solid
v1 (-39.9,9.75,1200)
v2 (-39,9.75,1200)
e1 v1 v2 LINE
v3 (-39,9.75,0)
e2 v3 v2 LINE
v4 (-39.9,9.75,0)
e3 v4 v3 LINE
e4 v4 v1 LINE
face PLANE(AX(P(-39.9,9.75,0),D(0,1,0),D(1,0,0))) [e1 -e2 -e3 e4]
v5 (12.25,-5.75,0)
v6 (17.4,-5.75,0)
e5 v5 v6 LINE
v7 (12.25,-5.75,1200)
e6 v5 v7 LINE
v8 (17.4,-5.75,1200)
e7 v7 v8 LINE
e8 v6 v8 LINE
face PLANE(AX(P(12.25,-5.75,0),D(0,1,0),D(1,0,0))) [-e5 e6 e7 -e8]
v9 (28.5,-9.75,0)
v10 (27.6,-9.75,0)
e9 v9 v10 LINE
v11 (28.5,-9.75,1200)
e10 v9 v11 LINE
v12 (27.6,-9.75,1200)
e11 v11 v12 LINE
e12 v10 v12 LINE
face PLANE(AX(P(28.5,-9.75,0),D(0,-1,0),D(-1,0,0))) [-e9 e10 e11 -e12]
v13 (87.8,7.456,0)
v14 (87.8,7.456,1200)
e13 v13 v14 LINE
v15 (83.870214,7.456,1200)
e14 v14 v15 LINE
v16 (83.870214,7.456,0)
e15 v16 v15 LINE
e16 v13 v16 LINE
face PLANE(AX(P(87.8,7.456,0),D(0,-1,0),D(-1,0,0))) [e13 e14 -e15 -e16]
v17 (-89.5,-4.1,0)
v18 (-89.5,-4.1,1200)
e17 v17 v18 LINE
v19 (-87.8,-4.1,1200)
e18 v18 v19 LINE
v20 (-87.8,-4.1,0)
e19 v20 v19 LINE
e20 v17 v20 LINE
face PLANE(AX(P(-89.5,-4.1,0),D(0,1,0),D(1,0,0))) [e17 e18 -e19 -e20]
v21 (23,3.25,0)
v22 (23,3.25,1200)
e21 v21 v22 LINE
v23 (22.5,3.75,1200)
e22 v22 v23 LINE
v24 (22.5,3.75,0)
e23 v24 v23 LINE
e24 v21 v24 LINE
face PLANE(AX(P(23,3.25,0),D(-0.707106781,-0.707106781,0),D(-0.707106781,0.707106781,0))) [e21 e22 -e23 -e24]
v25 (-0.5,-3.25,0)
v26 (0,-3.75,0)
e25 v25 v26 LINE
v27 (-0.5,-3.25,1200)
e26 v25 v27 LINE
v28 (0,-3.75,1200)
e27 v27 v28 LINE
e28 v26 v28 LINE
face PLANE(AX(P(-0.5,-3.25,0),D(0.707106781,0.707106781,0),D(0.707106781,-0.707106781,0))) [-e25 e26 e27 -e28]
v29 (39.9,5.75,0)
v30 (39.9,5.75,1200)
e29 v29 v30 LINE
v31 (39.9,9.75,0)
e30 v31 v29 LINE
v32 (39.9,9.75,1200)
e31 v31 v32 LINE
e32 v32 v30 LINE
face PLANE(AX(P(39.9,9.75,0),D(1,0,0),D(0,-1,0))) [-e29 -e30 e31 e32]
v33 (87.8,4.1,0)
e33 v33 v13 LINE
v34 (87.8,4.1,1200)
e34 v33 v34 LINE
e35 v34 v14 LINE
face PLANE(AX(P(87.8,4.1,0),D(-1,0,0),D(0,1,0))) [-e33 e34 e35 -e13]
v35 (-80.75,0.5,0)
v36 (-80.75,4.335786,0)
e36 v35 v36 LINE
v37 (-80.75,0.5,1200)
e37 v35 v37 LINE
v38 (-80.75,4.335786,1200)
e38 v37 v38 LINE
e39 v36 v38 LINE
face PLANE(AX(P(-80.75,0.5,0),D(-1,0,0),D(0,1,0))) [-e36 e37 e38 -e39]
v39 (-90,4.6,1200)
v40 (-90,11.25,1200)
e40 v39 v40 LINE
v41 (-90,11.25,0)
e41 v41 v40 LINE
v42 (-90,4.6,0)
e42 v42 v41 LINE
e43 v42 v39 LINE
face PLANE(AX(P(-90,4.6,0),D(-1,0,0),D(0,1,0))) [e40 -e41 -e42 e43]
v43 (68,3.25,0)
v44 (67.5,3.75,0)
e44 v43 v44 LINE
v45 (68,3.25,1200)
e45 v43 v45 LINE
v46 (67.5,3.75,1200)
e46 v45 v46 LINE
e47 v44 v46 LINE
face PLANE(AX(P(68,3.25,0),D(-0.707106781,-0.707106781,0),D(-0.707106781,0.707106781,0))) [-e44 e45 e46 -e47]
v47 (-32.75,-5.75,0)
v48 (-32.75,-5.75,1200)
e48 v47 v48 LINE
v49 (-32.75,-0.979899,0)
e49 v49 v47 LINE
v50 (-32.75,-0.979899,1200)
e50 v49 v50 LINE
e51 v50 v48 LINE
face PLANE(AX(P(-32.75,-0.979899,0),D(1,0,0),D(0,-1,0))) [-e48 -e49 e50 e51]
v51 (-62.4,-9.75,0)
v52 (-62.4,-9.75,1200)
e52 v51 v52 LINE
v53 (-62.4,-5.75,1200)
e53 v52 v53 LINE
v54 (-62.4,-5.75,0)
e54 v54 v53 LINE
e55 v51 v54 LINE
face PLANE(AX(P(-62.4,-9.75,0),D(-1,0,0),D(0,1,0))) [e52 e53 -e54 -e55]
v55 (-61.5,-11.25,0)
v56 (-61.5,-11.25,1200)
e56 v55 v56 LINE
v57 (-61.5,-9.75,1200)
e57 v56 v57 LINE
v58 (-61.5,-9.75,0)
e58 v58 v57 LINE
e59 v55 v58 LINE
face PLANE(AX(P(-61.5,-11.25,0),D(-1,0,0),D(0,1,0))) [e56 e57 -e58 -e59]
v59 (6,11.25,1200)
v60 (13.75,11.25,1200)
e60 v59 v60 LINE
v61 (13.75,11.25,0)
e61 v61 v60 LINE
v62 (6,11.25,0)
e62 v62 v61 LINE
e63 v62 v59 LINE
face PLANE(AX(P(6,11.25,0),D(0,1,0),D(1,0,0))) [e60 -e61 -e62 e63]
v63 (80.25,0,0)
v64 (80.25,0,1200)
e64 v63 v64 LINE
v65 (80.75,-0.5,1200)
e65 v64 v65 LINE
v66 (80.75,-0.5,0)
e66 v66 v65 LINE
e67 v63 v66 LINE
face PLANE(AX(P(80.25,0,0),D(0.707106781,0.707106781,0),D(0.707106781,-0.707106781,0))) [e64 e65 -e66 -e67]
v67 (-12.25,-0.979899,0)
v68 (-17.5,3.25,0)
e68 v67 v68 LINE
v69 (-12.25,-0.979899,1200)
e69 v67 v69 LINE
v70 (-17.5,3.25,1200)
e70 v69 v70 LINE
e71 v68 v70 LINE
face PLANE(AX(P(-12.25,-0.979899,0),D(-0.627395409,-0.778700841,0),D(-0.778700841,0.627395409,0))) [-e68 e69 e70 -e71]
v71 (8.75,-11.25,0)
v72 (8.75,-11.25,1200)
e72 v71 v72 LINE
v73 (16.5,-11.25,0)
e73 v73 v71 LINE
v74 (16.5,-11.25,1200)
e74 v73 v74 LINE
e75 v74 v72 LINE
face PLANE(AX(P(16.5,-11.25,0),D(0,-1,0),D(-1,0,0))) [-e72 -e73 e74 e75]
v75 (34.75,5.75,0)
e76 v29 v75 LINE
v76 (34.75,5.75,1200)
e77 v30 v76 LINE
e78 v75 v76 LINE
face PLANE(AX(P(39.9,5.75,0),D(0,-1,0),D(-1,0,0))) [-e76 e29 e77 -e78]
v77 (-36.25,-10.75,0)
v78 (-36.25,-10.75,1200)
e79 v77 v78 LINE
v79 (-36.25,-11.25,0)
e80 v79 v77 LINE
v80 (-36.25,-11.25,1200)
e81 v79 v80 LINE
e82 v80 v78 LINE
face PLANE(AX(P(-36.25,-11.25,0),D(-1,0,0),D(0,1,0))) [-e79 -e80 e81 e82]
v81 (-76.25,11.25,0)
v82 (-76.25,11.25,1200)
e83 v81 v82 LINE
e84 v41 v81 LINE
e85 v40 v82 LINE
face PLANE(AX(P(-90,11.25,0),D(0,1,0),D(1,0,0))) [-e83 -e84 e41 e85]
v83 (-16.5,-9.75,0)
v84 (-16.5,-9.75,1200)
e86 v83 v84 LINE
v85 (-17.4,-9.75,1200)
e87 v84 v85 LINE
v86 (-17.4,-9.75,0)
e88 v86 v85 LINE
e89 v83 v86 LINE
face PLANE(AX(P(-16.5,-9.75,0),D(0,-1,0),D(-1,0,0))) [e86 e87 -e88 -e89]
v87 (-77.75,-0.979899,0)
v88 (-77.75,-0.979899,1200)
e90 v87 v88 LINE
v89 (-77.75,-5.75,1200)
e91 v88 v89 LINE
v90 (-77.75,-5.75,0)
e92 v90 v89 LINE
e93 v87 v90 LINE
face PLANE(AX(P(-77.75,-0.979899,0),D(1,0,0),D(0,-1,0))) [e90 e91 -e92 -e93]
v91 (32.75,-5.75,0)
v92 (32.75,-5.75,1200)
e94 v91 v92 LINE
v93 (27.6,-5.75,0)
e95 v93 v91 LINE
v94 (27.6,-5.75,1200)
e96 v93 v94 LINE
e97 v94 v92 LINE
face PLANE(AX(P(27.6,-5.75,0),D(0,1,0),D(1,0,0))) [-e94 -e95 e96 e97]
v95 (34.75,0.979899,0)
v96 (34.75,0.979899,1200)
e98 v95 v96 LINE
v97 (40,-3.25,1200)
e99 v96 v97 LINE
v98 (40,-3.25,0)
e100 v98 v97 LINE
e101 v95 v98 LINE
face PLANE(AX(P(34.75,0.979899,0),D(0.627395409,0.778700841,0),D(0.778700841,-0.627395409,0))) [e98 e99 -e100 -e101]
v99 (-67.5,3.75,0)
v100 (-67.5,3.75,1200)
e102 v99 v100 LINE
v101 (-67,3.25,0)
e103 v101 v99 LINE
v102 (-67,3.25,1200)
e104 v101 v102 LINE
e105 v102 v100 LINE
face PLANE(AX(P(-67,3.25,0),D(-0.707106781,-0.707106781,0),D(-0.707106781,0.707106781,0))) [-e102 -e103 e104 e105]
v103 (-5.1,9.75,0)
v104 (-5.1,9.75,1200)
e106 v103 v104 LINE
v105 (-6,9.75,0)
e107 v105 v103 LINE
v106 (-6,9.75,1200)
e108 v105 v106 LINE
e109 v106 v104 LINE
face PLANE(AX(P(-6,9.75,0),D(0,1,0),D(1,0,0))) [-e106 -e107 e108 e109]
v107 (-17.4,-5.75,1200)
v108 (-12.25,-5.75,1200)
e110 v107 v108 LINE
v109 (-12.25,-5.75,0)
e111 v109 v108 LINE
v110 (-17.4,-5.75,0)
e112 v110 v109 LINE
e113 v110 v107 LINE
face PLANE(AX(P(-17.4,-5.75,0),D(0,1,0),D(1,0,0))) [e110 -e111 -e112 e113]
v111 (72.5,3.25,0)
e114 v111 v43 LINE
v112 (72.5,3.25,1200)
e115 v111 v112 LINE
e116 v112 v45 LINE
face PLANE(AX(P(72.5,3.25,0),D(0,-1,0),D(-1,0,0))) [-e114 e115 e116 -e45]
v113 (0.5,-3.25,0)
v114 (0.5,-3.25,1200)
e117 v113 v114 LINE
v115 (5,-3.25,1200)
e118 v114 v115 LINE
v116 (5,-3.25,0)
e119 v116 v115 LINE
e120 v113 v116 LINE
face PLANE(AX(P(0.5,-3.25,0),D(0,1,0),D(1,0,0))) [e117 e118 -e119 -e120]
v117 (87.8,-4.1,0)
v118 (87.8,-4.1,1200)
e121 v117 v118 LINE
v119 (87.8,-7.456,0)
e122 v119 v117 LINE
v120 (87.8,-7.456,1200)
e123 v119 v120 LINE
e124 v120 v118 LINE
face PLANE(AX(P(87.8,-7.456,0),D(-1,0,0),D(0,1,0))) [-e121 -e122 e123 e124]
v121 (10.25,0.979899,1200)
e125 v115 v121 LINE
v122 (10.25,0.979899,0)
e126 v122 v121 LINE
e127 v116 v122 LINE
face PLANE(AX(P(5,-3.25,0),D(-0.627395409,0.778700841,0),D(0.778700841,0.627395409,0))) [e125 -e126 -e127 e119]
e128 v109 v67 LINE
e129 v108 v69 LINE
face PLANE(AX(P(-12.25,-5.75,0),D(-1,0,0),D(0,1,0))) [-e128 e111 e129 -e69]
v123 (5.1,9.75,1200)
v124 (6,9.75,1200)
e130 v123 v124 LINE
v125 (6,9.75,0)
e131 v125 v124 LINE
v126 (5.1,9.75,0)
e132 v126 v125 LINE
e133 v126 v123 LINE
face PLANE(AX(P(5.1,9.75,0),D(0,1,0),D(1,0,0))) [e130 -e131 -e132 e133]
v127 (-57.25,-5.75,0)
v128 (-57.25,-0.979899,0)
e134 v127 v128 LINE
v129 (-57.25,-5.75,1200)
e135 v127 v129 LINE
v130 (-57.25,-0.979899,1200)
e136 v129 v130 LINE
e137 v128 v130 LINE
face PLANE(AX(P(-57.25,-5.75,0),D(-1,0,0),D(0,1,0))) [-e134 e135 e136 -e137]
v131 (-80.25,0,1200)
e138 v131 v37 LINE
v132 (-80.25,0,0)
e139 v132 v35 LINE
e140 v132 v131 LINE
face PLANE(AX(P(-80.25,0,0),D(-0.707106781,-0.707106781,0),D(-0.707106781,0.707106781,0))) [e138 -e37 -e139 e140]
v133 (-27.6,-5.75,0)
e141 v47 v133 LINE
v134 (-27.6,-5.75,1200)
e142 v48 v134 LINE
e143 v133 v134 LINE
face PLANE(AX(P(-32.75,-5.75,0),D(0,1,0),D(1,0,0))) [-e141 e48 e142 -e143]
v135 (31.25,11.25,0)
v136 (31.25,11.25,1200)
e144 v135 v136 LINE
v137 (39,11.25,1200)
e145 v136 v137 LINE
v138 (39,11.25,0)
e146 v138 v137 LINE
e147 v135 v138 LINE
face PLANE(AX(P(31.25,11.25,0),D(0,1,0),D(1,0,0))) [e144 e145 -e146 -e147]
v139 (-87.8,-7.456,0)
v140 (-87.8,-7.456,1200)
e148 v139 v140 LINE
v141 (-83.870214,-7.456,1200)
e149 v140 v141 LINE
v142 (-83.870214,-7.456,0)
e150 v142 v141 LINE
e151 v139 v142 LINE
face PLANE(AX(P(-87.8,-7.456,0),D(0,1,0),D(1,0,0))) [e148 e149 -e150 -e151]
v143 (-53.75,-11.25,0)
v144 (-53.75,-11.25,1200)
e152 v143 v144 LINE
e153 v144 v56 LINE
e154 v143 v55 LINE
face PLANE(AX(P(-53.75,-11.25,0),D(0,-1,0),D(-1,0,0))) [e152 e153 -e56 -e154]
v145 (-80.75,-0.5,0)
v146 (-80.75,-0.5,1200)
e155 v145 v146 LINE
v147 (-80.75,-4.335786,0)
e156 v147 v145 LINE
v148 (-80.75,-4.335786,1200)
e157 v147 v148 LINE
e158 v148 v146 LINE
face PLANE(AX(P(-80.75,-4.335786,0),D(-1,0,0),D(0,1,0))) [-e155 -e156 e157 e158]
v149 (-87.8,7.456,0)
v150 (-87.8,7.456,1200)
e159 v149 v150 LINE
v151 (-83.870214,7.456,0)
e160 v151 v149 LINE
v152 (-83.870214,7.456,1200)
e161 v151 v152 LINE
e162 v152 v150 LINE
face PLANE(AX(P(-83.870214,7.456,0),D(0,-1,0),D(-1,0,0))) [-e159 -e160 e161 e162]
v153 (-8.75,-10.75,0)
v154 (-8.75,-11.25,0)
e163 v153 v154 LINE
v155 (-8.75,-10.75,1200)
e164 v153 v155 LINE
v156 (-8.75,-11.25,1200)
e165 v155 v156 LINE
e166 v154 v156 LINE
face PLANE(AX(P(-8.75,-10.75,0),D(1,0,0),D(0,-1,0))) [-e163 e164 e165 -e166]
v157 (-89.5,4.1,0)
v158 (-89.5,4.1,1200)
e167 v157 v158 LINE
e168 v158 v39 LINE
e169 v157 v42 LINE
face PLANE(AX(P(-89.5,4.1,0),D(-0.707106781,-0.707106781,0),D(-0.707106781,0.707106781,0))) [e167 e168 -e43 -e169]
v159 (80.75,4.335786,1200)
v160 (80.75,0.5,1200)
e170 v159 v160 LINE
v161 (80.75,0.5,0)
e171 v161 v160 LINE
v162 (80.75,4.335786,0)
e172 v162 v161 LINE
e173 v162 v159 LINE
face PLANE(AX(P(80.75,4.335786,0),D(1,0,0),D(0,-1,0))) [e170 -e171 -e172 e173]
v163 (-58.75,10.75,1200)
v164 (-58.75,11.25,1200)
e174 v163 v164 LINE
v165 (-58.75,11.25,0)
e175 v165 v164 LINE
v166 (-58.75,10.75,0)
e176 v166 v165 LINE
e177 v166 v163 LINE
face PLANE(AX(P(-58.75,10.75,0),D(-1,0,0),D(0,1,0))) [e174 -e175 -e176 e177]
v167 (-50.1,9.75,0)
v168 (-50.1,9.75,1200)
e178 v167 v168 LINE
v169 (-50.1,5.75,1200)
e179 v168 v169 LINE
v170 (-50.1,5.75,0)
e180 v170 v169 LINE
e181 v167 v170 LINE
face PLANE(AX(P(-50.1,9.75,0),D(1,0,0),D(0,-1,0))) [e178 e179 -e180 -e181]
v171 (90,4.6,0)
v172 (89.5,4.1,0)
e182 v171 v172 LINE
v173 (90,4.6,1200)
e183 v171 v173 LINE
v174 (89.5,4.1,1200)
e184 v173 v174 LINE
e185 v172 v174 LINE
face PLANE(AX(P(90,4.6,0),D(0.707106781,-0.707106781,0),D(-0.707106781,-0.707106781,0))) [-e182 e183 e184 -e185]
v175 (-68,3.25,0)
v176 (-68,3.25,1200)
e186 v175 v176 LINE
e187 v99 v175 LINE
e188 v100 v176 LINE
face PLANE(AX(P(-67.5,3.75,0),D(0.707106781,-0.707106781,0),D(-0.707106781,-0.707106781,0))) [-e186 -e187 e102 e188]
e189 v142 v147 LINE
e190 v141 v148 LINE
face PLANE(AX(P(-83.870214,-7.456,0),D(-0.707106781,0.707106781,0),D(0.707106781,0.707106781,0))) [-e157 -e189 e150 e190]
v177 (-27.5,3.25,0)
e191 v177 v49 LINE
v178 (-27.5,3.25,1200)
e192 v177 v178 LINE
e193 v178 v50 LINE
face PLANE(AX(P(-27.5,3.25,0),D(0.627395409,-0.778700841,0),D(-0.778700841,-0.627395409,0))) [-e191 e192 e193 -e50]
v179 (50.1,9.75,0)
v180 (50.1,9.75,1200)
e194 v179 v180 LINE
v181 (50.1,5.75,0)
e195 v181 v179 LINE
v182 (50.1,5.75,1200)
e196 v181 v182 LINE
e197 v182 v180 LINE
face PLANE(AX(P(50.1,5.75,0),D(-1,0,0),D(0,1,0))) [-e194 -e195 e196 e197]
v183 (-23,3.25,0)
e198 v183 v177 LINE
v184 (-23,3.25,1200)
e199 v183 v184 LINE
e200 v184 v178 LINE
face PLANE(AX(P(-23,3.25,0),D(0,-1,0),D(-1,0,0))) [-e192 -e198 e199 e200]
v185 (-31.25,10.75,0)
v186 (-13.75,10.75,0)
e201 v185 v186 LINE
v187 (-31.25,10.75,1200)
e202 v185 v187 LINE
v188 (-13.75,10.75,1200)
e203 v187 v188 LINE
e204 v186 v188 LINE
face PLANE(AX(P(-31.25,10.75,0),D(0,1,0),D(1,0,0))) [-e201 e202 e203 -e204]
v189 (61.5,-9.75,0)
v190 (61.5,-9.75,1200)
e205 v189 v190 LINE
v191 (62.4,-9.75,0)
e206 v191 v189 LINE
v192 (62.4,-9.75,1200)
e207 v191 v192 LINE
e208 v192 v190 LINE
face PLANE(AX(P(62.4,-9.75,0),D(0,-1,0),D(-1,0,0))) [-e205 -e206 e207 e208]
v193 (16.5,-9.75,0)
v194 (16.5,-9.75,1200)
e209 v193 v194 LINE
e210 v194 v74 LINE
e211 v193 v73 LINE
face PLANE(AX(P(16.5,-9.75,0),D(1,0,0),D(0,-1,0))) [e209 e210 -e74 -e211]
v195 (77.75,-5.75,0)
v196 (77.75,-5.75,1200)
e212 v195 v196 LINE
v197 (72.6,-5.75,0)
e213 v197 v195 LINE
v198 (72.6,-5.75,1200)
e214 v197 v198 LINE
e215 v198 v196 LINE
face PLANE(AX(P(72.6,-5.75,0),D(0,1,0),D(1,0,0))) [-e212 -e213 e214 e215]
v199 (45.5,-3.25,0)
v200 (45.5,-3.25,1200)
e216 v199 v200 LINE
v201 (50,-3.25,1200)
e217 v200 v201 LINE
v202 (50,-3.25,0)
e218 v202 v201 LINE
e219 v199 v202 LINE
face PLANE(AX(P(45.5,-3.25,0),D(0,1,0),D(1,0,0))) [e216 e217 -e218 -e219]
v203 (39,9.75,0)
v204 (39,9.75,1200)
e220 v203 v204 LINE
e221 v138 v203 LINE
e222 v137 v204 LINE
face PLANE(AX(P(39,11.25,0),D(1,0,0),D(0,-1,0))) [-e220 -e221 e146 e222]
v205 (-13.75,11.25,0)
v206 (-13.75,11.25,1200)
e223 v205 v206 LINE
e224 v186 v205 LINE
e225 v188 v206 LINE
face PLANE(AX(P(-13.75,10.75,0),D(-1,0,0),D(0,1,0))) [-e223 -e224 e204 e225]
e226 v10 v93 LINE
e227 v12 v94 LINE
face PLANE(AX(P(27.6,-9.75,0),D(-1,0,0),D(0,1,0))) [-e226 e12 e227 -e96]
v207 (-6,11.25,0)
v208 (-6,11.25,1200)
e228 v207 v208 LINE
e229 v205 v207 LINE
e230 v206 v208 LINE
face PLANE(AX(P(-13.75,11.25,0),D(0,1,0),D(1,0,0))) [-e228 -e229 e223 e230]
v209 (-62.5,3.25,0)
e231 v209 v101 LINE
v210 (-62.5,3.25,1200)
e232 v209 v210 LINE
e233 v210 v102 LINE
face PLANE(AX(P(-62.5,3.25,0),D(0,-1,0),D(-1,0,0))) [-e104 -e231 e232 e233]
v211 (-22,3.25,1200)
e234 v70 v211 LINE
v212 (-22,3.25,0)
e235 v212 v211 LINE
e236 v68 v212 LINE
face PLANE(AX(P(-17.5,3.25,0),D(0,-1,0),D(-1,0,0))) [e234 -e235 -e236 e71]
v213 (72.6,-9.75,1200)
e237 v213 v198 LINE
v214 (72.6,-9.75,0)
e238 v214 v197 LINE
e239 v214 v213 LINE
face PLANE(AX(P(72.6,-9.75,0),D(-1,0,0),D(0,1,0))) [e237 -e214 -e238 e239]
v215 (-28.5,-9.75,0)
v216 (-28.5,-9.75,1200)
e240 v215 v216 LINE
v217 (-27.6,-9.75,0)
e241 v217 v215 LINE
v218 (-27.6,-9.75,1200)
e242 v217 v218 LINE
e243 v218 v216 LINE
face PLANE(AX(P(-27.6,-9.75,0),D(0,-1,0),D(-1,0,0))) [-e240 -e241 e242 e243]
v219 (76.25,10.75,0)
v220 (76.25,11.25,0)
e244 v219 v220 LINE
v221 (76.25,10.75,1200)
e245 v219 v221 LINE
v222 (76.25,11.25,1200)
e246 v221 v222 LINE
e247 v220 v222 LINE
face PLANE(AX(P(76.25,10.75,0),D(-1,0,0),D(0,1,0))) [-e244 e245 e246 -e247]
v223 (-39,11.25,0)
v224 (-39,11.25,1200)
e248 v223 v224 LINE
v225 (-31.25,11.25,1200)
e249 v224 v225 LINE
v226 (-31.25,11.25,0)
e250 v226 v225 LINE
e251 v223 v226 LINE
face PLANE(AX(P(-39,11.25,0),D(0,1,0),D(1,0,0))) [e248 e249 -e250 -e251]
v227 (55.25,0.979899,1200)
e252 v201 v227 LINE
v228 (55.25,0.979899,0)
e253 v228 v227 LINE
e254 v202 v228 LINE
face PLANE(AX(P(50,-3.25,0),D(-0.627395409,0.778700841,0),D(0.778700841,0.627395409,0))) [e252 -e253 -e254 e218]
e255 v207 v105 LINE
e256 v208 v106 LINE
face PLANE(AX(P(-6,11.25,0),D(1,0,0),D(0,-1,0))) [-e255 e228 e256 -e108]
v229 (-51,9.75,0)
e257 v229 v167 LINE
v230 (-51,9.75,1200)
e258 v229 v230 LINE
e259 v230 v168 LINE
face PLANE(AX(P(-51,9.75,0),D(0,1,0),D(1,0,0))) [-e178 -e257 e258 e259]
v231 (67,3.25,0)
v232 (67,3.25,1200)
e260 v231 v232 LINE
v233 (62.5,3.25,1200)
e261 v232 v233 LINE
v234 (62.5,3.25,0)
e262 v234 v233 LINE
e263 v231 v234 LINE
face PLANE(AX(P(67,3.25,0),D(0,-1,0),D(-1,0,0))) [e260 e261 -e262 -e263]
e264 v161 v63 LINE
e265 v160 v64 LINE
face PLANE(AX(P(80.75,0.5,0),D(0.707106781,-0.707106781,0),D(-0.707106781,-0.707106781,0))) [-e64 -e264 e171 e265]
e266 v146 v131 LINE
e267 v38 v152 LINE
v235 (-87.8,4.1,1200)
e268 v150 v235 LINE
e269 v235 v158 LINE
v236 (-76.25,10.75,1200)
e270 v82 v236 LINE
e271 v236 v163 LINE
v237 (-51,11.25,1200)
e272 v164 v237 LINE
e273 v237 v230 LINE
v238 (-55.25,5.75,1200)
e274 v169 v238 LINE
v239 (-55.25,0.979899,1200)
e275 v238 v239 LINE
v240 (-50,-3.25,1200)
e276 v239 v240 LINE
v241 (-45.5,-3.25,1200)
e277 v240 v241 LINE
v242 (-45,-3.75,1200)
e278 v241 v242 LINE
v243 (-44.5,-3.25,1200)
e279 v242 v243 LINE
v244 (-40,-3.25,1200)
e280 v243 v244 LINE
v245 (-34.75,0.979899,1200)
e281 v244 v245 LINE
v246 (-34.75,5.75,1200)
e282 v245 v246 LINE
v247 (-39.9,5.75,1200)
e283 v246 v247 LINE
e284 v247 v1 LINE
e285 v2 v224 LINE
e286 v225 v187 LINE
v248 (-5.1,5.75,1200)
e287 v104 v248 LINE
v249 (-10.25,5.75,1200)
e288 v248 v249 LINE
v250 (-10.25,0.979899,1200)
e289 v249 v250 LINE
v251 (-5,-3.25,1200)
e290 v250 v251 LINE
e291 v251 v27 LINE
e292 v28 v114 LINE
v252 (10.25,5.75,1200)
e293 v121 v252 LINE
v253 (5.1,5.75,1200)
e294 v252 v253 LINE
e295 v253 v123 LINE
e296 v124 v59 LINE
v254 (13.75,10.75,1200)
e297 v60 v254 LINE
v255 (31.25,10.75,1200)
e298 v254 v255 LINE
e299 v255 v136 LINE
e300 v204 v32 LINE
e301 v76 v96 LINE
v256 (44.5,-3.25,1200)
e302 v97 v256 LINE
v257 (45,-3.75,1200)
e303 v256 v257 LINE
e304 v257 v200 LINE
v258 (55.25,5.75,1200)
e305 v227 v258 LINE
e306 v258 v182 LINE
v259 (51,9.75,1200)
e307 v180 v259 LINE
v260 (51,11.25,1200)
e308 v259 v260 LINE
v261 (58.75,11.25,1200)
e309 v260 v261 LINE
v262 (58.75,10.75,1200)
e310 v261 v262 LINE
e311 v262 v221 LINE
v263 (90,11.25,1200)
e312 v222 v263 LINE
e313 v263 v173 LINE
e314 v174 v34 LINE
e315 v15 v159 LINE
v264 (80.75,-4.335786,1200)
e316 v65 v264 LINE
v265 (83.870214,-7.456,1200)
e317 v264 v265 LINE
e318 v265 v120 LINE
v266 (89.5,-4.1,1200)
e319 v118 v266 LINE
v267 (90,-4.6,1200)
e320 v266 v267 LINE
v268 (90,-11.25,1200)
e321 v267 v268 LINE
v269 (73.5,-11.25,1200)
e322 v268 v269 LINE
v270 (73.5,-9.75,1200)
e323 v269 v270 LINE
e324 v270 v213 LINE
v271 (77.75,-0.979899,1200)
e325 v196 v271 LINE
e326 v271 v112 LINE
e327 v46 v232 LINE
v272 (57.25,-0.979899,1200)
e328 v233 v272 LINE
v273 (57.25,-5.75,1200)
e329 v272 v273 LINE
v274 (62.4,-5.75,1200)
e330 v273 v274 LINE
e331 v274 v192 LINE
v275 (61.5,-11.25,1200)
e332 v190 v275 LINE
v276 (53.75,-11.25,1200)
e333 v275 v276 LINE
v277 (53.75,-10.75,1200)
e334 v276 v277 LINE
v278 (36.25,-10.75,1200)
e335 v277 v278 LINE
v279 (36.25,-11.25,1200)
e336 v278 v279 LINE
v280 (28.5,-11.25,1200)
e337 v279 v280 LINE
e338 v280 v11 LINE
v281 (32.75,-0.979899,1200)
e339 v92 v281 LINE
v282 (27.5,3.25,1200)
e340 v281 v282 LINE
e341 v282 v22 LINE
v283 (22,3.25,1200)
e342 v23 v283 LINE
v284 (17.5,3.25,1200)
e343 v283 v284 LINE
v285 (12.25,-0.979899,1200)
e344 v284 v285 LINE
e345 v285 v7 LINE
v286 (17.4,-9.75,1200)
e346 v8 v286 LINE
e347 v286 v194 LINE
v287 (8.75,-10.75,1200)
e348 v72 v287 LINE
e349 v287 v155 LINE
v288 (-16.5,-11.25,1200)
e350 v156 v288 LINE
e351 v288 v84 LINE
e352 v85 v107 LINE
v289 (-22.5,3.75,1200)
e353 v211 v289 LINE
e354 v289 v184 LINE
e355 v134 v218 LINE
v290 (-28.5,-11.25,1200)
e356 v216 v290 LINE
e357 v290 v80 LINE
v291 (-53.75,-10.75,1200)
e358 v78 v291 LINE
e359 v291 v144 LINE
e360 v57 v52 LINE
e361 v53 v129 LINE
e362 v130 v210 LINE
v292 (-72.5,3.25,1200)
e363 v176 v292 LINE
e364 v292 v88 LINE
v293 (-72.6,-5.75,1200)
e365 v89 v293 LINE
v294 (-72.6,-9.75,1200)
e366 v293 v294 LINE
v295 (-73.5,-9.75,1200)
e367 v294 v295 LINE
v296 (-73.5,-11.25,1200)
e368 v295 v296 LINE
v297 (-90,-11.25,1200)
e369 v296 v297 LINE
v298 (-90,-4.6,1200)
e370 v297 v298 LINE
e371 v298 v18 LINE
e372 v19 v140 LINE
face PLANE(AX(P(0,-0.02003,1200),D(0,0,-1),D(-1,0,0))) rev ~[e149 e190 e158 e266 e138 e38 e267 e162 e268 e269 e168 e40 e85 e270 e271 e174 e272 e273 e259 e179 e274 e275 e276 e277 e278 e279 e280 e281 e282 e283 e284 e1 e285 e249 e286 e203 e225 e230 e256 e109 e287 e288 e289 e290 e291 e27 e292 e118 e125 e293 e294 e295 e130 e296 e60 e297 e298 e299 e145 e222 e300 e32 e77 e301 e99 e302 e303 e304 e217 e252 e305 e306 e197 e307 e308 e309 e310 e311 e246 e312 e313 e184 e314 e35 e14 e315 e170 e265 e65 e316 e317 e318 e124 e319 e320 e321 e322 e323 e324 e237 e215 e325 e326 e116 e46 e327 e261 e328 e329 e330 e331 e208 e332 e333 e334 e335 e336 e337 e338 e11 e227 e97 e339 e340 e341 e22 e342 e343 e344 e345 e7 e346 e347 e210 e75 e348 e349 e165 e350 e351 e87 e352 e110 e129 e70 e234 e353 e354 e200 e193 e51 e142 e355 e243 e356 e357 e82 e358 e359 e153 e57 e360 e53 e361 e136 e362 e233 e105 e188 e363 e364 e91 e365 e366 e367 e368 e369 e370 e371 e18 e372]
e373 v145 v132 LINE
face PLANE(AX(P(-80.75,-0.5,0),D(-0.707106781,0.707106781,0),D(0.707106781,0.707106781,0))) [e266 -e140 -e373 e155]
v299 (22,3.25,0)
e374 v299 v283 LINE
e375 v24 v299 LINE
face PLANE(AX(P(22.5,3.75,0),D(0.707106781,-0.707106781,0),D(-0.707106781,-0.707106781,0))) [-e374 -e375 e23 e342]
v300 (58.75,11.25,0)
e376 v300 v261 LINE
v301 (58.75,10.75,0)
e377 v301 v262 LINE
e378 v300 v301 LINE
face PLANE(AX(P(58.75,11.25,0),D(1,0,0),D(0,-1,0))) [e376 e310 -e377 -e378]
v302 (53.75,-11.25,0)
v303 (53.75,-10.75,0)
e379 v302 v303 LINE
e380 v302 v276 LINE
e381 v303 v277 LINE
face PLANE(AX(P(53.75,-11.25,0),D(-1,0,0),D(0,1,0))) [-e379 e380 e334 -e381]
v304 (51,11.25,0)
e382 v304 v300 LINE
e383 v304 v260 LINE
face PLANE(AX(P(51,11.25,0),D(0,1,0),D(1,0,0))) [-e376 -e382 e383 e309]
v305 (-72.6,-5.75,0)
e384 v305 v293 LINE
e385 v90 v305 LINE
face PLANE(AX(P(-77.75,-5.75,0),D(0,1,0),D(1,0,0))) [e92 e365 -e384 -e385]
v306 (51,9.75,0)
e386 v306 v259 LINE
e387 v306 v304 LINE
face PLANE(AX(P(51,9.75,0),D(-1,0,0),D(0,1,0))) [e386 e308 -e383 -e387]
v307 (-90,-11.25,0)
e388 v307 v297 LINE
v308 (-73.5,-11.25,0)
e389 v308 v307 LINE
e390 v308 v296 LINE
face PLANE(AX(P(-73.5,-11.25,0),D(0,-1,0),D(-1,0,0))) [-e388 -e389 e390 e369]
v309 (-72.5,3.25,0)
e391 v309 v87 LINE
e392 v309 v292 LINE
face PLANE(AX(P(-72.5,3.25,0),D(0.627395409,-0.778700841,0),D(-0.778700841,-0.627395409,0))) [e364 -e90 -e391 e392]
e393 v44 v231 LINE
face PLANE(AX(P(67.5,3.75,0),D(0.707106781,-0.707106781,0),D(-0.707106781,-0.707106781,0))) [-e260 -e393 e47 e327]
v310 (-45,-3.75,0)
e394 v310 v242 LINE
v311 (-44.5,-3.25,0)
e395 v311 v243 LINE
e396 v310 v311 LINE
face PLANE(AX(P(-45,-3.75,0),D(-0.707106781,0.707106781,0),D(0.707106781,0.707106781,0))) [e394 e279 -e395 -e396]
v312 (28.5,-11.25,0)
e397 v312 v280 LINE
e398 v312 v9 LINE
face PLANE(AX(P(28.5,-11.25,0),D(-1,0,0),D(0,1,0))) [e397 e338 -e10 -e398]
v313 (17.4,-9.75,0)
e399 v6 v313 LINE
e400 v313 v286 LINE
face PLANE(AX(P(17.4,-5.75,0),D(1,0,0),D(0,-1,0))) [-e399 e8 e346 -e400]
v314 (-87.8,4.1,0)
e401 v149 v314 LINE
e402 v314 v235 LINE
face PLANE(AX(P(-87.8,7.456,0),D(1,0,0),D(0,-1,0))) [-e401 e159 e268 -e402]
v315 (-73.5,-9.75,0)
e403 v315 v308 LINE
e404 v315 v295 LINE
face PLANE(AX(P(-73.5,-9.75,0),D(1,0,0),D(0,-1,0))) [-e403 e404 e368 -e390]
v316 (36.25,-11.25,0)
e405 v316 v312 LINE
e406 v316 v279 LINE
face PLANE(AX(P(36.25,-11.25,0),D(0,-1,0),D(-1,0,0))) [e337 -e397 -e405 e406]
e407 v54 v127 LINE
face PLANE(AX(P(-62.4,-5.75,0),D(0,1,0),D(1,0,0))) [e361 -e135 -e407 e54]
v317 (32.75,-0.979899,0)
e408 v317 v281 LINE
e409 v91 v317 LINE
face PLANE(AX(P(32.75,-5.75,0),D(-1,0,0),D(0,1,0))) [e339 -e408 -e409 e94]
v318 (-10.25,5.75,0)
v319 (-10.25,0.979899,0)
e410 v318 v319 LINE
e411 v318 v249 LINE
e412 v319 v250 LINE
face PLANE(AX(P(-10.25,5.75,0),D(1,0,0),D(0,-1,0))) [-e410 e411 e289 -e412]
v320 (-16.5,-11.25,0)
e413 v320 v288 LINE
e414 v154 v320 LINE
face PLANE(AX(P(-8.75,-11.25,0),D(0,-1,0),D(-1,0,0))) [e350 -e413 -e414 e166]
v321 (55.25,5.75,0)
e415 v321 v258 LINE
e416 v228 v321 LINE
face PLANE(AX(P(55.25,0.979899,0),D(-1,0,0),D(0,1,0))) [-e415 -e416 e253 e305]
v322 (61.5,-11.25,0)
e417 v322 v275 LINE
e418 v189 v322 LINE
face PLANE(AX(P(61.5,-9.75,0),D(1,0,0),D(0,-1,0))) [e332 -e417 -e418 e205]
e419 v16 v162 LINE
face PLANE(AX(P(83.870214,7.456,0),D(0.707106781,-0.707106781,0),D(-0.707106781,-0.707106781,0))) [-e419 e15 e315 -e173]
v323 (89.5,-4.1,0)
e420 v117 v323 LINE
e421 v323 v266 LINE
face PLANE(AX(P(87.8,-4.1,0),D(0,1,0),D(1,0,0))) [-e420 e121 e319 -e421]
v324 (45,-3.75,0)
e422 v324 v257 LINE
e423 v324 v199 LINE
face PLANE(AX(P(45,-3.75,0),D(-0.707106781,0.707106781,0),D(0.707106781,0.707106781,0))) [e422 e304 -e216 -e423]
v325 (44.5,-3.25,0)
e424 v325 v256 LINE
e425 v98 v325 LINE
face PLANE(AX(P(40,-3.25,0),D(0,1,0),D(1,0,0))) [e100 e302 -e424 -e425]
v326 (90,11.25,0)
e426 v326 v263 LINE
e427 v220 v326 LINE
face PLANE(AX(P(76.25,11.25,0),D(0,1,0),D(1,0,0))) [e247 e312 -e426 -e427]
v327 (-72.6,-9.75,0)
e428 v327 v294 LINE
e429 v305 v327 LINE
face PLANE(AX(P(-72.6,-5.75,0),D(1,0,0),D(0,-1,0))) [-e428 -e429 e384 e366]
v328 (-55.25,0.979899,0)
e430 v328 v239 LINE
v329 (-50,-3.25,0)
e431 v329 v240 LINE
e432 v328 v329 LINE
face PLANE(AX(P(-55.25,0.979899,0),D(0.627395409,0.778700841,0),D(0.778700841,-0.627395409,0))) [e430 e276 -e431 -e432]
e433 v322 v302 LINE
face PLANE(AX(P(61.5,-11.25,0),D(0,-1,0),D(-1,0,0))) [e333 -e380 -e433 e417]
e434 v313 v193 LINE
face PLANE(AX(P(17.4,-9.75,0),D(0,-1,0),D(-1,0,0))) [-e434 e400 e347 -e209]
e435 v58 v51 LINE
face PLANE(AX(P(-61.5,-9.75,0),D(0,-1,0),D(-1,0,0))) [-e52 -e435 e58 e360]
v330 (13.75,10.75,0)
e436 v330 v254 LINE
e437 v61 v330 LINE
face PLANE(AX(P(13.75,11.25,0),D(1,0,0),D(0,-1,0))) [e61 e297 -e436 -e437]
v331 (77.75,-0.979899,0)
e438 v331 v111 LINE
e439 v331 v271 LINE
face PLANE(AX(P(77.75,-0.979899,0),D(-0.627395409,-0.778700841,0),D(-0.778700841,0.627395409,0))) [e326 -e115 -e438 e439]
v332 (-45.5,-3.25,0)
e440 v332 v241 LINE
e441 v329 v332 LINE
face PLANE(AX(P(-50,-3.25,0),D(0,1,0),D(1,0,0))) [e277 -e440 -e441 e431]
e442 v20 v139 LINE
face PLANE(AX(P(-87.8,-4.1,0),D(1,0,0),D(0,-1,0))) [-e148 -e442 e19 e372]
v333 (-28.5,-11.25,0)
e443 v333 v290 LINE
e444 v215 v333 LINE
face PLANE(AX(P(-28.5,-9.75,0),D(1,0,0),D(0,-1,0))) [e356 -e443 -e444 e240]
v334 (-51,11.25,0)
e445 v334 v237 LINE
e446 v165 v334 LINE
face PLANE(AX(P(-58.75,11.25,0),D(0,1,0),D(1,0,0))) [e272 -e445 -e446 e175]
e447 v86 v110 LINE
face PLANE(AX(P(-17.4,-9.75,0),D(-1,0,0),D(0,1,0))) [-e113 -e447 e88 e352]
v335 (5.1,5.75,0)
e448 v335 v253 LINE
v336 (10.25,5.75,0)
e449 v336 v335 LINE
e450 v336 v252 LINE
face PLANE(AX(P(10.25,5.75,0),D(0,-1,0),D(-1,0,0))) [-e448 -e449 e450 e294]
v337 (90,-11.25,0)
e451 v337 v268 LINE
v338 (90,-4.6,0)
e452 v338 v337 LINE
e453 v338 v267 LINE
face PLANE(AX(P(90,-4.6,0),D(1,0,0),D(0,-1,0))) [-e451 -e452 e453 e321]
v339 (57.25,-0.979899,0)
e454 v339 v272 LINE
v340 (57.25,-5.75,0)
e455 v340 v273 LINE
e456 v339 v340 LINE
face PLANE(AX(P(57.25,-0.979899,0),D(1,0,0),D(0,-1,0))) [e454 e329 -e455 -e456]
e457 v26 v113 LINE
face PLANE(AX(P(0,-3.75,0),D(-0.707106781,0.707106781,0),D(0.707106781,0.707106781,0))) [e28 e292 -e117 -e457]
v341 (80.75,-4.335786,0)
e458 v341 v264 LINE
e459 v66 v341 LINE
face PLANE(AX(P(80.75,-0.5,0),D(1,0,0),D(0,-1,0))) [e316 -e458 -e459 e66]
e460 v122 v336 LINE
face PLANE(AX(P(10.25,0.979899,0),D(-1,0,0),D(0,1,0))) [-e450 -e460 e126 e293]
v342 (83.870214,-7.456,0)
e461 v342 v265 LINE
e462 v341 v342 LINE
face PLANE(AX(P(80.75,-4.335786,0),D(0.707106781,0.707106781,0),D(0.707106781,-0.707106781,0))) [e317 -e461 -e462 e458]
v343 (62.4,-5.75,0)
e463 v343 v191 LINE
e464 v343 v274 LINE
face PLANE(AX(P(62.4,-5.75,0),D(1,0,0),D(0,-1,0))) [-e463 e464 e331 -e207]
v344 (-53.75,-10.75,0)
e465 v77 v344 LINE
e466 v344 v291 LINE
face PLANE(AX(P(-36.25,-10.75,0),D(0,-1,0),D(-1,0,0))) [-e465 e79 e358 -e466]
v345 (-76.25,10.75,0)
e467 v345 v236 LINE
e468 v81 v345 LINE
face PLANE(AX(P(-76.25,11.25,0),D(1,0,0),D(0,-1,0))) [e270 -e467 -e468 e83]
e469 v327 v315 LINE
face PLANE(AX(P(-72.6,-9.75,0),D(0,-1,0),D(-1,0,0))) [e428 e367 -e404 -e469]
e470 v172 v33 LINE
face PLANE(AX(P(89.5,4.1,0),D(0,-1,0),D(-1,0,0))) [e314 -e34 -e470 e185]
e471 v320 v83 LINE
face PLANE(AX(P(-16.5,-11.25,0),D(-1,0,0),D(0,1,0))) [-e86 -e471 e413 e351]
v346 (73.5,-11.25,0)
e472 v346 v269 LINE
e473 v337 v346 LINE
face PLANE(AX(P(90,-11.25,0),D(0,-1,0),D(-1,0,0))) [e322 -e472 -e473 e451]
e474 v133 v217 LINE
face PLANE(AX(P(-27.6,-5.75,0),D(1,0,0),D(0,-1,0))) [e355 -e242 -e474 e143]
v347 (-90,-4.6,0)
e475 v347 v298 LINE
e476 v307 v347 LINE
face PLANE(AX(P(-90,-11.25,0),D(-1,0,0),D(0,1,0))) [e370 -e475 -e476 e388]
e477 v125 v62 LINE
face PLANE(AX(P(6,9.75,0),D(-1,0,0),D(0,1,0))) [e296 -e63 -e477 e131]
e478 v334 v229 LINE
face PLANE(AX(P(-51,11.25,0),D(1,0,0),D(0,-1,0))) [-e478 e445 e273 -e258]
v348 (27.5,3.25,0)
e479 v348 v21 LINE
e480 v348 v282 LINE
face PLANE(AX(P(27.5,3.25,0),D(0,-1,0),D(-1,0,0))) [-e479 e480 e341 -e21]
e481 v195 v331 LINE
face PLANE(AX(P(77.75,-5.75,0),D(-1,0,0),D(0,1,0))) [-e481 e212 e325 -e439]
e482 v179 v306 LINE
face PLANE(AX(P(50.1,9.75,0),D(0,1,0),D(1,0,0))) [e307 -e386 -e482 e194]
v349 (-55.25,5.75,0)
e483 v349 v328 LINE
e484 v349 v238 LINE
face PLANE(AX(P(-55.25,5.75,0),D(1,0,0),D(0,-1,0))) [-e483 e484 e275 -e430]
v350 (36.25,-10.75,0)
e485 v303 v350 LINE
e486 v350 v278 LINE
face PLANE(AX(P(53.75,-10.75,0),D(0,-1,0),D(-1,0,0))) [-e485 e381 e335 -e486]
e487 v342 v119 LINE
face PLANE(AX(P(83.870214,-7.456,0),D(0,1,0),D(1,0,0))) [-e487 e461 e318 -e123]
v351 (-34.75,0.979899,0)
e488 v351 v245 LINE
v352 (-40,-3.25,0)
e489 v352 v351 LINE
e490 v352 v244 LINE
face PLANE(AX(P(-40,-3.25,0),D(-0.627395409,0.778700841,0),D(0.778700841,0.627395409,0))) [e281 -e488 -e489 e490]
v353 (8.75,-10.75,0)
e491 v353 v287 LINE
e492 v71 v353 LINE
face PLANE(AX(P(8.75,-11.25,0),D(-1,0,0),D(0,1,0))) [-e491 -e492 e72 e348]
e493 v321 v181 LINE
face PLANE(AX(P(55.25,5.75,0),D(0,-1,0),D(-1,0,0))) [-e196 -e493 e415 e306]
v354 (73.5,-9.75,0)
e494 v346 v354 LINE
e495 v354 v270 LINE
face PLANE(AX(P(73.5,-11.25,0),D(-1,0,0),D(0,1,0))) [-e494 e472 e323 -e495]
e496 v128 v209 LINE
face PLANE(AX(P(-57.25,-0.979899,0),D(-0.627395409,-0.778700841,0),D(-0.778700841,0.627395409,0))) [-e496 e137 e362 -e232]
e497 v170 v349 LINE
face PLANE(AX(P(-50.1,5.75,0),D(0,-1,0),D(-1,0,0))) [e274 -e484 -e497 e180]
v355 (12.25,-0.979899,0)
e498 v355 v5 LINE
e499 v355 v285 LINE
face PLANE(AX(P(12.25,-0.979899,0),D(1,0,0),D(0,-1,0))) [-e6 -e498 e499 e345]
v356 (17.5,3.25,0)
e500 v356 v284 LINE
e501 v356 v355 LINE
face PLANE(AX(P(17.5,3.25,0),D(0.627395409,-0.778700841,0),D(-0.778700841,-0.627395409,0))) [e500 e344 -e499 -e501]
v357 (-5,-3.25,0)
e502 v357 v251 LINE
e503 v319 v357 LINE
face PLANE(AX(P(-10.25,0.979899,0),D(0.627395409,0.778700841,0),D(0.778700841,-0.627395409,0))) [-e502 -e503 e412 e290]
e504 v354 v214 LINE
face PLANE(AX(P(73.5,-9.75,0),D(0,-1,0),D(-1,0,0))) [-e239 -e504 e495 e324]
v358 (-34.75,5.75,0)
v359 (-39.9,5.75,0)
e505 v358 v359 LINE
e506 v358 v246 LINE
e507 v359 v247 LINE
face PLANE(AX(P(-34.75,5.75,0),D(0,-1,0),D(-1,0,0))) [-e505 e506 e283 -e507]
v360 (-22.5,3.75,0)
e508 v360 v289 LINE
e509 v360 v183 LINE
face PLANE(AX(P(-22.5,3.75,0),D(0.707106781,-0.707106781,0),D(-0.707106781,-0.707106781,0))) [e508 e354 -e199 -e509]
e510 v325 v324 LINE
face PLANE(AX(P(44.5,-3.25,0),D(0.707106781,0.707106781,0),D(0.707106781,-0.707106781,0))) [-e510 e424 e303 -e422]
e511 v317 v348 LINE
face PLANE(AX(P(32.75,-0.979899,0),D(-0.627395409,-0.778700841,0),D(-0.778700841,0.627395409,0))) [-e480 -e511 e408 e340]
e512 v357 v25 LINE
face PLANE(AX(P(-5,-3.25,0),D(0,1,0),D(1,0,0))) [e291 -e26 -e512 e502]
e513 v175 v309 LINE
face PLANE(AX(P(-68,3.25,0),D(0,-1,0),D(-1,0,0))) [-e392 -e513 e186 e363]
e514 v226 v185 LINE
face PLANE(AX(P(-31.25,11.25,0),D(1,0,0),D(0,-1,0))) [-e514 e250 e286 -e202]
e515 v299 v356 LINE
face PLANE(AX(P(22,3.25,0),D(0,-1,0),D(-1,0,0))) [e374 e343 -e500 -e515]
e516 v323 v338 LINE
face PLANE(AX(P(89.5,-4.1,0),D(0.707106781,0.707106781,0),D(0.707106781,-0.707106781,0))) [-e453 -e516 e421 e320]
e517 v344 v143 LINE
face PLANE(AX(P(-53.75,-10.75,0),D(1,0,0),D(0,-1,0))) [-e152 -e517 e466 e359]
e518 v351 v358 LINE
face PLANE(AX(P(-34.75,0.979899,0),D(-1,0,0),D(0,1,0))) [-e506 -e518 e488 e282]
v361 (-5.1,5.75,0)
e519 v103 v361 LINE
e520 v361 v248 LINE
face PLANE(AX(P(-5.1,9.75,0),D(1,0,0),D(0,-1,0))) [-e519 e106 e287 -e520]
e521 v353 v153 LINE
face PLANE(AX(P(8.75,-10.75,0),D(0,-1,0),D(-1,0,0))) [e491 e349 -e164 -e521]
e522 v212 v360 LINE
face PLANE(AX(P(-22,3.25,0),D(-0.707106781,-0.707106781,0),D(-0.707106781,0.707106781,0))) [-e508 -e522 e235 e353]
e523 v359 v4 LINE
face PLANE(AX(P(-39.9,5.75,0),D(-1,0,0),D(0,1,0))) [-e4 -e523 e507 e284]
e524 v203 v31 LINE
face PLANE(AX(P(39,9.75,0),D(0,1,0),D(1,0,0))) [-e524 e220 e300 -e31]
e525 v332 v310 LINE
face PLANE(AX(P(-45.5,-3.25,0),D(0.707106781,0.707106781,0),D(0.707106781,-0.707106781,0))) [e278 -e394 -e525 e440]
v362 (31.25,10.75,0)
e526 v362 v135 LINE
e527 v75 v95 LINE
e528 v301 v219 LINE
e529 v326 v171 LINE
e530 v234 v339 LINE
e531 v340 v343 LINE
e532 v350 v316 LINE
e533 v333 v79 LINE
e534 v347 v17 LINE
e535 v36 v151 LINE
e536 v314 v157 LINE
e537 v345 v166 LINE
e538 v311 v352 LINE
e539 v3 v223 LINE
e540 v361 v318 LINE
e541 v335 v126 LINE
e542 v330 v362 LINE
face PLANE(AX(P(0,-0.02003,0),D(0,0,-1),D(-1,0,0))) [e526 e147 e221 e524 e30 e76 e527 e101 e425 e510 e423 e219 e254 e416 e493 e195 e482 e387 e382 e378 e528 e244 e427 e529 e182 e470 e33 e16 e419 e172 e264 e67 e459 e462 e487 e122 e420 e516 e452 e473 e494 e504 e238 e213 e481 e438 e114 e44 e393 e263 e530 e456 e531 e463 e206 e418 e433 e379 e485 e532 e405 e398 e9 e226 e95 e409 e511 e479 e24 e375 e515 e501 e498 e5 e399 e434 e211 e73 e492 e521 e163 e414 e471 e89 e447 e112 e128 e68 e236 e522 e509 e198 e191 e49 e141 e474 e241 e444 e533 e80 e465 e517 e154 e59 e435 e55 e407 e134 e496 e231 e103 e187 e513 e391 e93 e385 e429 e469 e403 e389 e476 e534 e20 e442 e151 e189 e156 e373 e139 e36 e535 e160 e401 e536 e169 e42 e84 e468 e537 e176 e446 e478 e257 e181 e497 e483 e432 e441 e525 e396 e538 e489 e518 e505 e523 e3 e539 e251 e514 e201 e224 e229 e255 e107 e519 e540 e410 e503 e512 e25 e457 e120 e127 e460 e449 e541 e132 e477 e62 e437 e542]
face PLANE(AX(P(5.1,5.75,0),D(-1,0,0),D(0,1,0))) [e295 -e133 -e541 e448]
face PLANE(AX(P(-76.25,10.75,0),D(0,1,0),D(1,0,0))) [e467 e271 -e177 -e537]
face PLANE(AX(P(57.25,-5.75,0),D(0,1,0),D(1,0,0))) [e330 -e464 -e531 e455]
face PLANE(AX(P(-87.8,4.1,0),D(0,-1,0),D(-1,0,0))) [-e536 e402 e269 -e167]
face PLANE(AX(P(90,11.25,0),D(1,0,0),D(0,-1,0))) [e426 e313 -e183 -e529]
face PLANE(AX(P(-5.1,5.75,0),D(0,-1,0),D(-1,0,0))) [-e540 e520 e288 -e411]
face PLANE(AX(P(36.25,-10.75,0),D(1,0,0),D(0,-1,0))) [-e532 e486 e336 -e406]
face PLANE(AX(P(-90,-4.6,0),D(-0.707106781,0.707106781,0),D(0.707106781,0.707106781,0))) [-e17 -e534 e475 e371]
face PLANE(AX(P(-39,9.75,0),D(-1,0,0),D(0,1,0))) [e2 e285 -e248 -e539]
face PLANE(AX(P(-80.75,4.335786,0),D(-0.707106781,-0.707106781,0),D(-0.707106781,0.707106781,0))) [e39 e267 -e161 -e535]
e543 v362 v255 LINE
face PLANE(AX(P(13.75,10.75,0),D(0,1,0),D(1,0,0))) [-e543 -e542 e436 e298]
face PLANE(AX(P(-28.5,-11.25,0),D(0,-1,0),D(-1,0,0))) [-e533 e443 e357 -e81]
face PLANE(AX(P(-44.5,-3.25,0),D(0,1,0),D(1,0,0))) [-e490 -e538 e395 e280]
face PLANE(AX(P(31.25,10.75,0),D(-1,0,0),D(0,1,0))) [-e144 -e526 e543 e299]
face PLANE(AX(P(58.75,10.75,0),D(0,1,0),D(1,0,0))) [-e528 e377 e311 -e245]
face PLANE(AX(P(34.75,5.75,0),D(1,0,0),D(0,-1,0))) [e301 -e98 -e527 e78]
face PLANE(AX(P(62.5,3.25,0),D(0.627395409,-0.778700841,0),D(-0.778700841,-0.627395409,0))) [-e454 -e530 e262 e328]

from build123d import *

# Parameters (mm, degrees)
BOSS_EXTRUDE1_DEPTH = 1200


with BuildPart() as part:
    # Model → Boss-Extrude1 (new body)
    with BuildSketch(Plane.XY):
        Polygon((-16.5, -11.25), (-16.5, -9.75), (-17.4, -9.75), (-17.4, -5.75), (-12.25, -5.75), (-12.25, -0.979898987), (-17.5, 3.25), (-22, 3.25), (-22.5, 3.75), (-23, 3.25), (-27.5, 3.25), (-32.75, -0.979898987), (-32.75, -5.75), (-27.6, -5.75), (-27.6, -9.75), (-28.5, -9.75), (-28.5, -11.25), (-36.25, -11.25), (-36.25, -10.75), (-53.75, -10.75), (-53.75, -11.25), (-61.5, -11.25), (-61.5, -9.75), (-62.4, -9.75), (-62.4, -5.75), (-57.25, -5.75), (-57.25, -0.979898987), (-62.5, 3.25), (-67, 3.25), (-67.5, 3.75), (-68, 3.25), (-72.5, 3.25), (-77.75, -0.979898987), (-77.75, -5.75), (-72.6, -5.75), (-72.6, -9.75), (-73.5, -9.75), (-73.5, -11.25), (-90, -11.25), (-90, -4.6), (-89.5, -4.1), (-87.8, -4.1), (-87.8, -7.456), (-83.870213562, -7.456), (-80.75, -4.335786438), (-80.75, -0.5), (-80.25, 0), (-80.75, 0.5), (-80.75, 4.335786438), (-83.870213562, 7.456), (-87.8, 7.456), (-87.8, 4.1), (-89.5, 4.1), (-90, 4.6), (-90, 11.25), (-76.25, 11.25), (-76.25, 10.75), (-58.75, 10.75), (-58.75, 11.25), (-51, 11.25), (-51, 9.75), (-50.1, 9.75), (-50.1, 5.75), (-55.25, 5.75), (-55.25, 0.979898987), (-50, -3.25), (-45.5, -3.25), (-45, -3.75), (-44.5, -3.25), (-40, -3.25), (-34.75, 0.979898987), (-34.75, 5.75), (-39.9, 5.75), (-39.9, 9.75), (-39, 9.75), (-39, 11.25), (-31.25, 11.25), (-31.25, 10.75), (-13.75, 10.75), (-13.75, 11.25), (-6, 11.25), (-6, 9.75), (-5.1, 9.75), (-5.1, 5.75), (-10.25, 5.75), (-10.25, 0.979898987), (-5, -3.25), (-0.5, -3.25), (0, -3.75), (0.5, -3.25), (5, -3.25), (10.25, 0.979898987), (10.25, 5.75), (5.1, 5.75), (5.1, 9.75), (6, 9.75), (6, 11.25), (13.75, 11.25), (13.75, 10.75), (31.25, 10.75), (31.25, 11.25), (39, 11.25), (39, 9.75), (39.9, 9.75), (39.9, 5.75), (34.75, 5.75), (34.75, 0.979898987), (40, -3.25), (44.5, -3.25), (45, -3.75), (45.5, -3.25), (50, -3.25), (55.25, 0.979898987), (55.25, 5.75), (50.1, 5.75), (50.1, 9.75), (51, 9.75), (51, 11.25), (58.75, 11.25), (58.75, 10.75), (76.25, 10.75), (76.25, 11.25), (90, 11.25), (90, 4.6), (89.5, 4.1), (87.8, 4.1), (87.8, 7.456), (83.870213562, 7.456), (80.75, 4.335786438), (80.75, 0.5), (80.25, 0), (80.75, -0.5), (80.75, -4.335786438), (83.870213562, -7.456), (87.8, -7.456), (87.8, -4.1), (89.5, -4.1), (90, -4.6), (90, -11.25), (73.5, -11.25), (73.5, -9.75), (72.6, -9.75), (72.6, -5.75), (77.75, -5.75), (77.75, -0.979898987), (72.5, 3.25), (68, 3.25), (67.5, 3.75), (67, 3.25), (62.5, 3.25), (57.25, -0.979898987), (57.25, -5.75), (62.4, -5.75), (62.4, -9.75), (61.5, -9.75), (61.5, -11.25), (53.75, -11.25), (53.75, -10.75), (36.25, -10.75), (36.25, -11.25), (28.5, -11.25), (28.5, -9.75), (27.6, -9.75), (27.6, -5.75), (32.75, -5.75), (32.75, -0.979898987), (27.5, 3.25), (23, 3.25), (22.5, 3.75), (22, 3.25), (17.5, 3.25), (12.25, -0.979898987), (12.25, -5.75), (17.4, -5.75), (17.4, -9.75), (16.5, -9.75), (16.5, -11.25), (8.75, -11.25), (8.75, -10.75), (-8.75, -10.75), (-8.75, -11.25), align=None)
    extrude(amount=BOSS_EXTRUDE1_DEPTH)


solid = part.part
